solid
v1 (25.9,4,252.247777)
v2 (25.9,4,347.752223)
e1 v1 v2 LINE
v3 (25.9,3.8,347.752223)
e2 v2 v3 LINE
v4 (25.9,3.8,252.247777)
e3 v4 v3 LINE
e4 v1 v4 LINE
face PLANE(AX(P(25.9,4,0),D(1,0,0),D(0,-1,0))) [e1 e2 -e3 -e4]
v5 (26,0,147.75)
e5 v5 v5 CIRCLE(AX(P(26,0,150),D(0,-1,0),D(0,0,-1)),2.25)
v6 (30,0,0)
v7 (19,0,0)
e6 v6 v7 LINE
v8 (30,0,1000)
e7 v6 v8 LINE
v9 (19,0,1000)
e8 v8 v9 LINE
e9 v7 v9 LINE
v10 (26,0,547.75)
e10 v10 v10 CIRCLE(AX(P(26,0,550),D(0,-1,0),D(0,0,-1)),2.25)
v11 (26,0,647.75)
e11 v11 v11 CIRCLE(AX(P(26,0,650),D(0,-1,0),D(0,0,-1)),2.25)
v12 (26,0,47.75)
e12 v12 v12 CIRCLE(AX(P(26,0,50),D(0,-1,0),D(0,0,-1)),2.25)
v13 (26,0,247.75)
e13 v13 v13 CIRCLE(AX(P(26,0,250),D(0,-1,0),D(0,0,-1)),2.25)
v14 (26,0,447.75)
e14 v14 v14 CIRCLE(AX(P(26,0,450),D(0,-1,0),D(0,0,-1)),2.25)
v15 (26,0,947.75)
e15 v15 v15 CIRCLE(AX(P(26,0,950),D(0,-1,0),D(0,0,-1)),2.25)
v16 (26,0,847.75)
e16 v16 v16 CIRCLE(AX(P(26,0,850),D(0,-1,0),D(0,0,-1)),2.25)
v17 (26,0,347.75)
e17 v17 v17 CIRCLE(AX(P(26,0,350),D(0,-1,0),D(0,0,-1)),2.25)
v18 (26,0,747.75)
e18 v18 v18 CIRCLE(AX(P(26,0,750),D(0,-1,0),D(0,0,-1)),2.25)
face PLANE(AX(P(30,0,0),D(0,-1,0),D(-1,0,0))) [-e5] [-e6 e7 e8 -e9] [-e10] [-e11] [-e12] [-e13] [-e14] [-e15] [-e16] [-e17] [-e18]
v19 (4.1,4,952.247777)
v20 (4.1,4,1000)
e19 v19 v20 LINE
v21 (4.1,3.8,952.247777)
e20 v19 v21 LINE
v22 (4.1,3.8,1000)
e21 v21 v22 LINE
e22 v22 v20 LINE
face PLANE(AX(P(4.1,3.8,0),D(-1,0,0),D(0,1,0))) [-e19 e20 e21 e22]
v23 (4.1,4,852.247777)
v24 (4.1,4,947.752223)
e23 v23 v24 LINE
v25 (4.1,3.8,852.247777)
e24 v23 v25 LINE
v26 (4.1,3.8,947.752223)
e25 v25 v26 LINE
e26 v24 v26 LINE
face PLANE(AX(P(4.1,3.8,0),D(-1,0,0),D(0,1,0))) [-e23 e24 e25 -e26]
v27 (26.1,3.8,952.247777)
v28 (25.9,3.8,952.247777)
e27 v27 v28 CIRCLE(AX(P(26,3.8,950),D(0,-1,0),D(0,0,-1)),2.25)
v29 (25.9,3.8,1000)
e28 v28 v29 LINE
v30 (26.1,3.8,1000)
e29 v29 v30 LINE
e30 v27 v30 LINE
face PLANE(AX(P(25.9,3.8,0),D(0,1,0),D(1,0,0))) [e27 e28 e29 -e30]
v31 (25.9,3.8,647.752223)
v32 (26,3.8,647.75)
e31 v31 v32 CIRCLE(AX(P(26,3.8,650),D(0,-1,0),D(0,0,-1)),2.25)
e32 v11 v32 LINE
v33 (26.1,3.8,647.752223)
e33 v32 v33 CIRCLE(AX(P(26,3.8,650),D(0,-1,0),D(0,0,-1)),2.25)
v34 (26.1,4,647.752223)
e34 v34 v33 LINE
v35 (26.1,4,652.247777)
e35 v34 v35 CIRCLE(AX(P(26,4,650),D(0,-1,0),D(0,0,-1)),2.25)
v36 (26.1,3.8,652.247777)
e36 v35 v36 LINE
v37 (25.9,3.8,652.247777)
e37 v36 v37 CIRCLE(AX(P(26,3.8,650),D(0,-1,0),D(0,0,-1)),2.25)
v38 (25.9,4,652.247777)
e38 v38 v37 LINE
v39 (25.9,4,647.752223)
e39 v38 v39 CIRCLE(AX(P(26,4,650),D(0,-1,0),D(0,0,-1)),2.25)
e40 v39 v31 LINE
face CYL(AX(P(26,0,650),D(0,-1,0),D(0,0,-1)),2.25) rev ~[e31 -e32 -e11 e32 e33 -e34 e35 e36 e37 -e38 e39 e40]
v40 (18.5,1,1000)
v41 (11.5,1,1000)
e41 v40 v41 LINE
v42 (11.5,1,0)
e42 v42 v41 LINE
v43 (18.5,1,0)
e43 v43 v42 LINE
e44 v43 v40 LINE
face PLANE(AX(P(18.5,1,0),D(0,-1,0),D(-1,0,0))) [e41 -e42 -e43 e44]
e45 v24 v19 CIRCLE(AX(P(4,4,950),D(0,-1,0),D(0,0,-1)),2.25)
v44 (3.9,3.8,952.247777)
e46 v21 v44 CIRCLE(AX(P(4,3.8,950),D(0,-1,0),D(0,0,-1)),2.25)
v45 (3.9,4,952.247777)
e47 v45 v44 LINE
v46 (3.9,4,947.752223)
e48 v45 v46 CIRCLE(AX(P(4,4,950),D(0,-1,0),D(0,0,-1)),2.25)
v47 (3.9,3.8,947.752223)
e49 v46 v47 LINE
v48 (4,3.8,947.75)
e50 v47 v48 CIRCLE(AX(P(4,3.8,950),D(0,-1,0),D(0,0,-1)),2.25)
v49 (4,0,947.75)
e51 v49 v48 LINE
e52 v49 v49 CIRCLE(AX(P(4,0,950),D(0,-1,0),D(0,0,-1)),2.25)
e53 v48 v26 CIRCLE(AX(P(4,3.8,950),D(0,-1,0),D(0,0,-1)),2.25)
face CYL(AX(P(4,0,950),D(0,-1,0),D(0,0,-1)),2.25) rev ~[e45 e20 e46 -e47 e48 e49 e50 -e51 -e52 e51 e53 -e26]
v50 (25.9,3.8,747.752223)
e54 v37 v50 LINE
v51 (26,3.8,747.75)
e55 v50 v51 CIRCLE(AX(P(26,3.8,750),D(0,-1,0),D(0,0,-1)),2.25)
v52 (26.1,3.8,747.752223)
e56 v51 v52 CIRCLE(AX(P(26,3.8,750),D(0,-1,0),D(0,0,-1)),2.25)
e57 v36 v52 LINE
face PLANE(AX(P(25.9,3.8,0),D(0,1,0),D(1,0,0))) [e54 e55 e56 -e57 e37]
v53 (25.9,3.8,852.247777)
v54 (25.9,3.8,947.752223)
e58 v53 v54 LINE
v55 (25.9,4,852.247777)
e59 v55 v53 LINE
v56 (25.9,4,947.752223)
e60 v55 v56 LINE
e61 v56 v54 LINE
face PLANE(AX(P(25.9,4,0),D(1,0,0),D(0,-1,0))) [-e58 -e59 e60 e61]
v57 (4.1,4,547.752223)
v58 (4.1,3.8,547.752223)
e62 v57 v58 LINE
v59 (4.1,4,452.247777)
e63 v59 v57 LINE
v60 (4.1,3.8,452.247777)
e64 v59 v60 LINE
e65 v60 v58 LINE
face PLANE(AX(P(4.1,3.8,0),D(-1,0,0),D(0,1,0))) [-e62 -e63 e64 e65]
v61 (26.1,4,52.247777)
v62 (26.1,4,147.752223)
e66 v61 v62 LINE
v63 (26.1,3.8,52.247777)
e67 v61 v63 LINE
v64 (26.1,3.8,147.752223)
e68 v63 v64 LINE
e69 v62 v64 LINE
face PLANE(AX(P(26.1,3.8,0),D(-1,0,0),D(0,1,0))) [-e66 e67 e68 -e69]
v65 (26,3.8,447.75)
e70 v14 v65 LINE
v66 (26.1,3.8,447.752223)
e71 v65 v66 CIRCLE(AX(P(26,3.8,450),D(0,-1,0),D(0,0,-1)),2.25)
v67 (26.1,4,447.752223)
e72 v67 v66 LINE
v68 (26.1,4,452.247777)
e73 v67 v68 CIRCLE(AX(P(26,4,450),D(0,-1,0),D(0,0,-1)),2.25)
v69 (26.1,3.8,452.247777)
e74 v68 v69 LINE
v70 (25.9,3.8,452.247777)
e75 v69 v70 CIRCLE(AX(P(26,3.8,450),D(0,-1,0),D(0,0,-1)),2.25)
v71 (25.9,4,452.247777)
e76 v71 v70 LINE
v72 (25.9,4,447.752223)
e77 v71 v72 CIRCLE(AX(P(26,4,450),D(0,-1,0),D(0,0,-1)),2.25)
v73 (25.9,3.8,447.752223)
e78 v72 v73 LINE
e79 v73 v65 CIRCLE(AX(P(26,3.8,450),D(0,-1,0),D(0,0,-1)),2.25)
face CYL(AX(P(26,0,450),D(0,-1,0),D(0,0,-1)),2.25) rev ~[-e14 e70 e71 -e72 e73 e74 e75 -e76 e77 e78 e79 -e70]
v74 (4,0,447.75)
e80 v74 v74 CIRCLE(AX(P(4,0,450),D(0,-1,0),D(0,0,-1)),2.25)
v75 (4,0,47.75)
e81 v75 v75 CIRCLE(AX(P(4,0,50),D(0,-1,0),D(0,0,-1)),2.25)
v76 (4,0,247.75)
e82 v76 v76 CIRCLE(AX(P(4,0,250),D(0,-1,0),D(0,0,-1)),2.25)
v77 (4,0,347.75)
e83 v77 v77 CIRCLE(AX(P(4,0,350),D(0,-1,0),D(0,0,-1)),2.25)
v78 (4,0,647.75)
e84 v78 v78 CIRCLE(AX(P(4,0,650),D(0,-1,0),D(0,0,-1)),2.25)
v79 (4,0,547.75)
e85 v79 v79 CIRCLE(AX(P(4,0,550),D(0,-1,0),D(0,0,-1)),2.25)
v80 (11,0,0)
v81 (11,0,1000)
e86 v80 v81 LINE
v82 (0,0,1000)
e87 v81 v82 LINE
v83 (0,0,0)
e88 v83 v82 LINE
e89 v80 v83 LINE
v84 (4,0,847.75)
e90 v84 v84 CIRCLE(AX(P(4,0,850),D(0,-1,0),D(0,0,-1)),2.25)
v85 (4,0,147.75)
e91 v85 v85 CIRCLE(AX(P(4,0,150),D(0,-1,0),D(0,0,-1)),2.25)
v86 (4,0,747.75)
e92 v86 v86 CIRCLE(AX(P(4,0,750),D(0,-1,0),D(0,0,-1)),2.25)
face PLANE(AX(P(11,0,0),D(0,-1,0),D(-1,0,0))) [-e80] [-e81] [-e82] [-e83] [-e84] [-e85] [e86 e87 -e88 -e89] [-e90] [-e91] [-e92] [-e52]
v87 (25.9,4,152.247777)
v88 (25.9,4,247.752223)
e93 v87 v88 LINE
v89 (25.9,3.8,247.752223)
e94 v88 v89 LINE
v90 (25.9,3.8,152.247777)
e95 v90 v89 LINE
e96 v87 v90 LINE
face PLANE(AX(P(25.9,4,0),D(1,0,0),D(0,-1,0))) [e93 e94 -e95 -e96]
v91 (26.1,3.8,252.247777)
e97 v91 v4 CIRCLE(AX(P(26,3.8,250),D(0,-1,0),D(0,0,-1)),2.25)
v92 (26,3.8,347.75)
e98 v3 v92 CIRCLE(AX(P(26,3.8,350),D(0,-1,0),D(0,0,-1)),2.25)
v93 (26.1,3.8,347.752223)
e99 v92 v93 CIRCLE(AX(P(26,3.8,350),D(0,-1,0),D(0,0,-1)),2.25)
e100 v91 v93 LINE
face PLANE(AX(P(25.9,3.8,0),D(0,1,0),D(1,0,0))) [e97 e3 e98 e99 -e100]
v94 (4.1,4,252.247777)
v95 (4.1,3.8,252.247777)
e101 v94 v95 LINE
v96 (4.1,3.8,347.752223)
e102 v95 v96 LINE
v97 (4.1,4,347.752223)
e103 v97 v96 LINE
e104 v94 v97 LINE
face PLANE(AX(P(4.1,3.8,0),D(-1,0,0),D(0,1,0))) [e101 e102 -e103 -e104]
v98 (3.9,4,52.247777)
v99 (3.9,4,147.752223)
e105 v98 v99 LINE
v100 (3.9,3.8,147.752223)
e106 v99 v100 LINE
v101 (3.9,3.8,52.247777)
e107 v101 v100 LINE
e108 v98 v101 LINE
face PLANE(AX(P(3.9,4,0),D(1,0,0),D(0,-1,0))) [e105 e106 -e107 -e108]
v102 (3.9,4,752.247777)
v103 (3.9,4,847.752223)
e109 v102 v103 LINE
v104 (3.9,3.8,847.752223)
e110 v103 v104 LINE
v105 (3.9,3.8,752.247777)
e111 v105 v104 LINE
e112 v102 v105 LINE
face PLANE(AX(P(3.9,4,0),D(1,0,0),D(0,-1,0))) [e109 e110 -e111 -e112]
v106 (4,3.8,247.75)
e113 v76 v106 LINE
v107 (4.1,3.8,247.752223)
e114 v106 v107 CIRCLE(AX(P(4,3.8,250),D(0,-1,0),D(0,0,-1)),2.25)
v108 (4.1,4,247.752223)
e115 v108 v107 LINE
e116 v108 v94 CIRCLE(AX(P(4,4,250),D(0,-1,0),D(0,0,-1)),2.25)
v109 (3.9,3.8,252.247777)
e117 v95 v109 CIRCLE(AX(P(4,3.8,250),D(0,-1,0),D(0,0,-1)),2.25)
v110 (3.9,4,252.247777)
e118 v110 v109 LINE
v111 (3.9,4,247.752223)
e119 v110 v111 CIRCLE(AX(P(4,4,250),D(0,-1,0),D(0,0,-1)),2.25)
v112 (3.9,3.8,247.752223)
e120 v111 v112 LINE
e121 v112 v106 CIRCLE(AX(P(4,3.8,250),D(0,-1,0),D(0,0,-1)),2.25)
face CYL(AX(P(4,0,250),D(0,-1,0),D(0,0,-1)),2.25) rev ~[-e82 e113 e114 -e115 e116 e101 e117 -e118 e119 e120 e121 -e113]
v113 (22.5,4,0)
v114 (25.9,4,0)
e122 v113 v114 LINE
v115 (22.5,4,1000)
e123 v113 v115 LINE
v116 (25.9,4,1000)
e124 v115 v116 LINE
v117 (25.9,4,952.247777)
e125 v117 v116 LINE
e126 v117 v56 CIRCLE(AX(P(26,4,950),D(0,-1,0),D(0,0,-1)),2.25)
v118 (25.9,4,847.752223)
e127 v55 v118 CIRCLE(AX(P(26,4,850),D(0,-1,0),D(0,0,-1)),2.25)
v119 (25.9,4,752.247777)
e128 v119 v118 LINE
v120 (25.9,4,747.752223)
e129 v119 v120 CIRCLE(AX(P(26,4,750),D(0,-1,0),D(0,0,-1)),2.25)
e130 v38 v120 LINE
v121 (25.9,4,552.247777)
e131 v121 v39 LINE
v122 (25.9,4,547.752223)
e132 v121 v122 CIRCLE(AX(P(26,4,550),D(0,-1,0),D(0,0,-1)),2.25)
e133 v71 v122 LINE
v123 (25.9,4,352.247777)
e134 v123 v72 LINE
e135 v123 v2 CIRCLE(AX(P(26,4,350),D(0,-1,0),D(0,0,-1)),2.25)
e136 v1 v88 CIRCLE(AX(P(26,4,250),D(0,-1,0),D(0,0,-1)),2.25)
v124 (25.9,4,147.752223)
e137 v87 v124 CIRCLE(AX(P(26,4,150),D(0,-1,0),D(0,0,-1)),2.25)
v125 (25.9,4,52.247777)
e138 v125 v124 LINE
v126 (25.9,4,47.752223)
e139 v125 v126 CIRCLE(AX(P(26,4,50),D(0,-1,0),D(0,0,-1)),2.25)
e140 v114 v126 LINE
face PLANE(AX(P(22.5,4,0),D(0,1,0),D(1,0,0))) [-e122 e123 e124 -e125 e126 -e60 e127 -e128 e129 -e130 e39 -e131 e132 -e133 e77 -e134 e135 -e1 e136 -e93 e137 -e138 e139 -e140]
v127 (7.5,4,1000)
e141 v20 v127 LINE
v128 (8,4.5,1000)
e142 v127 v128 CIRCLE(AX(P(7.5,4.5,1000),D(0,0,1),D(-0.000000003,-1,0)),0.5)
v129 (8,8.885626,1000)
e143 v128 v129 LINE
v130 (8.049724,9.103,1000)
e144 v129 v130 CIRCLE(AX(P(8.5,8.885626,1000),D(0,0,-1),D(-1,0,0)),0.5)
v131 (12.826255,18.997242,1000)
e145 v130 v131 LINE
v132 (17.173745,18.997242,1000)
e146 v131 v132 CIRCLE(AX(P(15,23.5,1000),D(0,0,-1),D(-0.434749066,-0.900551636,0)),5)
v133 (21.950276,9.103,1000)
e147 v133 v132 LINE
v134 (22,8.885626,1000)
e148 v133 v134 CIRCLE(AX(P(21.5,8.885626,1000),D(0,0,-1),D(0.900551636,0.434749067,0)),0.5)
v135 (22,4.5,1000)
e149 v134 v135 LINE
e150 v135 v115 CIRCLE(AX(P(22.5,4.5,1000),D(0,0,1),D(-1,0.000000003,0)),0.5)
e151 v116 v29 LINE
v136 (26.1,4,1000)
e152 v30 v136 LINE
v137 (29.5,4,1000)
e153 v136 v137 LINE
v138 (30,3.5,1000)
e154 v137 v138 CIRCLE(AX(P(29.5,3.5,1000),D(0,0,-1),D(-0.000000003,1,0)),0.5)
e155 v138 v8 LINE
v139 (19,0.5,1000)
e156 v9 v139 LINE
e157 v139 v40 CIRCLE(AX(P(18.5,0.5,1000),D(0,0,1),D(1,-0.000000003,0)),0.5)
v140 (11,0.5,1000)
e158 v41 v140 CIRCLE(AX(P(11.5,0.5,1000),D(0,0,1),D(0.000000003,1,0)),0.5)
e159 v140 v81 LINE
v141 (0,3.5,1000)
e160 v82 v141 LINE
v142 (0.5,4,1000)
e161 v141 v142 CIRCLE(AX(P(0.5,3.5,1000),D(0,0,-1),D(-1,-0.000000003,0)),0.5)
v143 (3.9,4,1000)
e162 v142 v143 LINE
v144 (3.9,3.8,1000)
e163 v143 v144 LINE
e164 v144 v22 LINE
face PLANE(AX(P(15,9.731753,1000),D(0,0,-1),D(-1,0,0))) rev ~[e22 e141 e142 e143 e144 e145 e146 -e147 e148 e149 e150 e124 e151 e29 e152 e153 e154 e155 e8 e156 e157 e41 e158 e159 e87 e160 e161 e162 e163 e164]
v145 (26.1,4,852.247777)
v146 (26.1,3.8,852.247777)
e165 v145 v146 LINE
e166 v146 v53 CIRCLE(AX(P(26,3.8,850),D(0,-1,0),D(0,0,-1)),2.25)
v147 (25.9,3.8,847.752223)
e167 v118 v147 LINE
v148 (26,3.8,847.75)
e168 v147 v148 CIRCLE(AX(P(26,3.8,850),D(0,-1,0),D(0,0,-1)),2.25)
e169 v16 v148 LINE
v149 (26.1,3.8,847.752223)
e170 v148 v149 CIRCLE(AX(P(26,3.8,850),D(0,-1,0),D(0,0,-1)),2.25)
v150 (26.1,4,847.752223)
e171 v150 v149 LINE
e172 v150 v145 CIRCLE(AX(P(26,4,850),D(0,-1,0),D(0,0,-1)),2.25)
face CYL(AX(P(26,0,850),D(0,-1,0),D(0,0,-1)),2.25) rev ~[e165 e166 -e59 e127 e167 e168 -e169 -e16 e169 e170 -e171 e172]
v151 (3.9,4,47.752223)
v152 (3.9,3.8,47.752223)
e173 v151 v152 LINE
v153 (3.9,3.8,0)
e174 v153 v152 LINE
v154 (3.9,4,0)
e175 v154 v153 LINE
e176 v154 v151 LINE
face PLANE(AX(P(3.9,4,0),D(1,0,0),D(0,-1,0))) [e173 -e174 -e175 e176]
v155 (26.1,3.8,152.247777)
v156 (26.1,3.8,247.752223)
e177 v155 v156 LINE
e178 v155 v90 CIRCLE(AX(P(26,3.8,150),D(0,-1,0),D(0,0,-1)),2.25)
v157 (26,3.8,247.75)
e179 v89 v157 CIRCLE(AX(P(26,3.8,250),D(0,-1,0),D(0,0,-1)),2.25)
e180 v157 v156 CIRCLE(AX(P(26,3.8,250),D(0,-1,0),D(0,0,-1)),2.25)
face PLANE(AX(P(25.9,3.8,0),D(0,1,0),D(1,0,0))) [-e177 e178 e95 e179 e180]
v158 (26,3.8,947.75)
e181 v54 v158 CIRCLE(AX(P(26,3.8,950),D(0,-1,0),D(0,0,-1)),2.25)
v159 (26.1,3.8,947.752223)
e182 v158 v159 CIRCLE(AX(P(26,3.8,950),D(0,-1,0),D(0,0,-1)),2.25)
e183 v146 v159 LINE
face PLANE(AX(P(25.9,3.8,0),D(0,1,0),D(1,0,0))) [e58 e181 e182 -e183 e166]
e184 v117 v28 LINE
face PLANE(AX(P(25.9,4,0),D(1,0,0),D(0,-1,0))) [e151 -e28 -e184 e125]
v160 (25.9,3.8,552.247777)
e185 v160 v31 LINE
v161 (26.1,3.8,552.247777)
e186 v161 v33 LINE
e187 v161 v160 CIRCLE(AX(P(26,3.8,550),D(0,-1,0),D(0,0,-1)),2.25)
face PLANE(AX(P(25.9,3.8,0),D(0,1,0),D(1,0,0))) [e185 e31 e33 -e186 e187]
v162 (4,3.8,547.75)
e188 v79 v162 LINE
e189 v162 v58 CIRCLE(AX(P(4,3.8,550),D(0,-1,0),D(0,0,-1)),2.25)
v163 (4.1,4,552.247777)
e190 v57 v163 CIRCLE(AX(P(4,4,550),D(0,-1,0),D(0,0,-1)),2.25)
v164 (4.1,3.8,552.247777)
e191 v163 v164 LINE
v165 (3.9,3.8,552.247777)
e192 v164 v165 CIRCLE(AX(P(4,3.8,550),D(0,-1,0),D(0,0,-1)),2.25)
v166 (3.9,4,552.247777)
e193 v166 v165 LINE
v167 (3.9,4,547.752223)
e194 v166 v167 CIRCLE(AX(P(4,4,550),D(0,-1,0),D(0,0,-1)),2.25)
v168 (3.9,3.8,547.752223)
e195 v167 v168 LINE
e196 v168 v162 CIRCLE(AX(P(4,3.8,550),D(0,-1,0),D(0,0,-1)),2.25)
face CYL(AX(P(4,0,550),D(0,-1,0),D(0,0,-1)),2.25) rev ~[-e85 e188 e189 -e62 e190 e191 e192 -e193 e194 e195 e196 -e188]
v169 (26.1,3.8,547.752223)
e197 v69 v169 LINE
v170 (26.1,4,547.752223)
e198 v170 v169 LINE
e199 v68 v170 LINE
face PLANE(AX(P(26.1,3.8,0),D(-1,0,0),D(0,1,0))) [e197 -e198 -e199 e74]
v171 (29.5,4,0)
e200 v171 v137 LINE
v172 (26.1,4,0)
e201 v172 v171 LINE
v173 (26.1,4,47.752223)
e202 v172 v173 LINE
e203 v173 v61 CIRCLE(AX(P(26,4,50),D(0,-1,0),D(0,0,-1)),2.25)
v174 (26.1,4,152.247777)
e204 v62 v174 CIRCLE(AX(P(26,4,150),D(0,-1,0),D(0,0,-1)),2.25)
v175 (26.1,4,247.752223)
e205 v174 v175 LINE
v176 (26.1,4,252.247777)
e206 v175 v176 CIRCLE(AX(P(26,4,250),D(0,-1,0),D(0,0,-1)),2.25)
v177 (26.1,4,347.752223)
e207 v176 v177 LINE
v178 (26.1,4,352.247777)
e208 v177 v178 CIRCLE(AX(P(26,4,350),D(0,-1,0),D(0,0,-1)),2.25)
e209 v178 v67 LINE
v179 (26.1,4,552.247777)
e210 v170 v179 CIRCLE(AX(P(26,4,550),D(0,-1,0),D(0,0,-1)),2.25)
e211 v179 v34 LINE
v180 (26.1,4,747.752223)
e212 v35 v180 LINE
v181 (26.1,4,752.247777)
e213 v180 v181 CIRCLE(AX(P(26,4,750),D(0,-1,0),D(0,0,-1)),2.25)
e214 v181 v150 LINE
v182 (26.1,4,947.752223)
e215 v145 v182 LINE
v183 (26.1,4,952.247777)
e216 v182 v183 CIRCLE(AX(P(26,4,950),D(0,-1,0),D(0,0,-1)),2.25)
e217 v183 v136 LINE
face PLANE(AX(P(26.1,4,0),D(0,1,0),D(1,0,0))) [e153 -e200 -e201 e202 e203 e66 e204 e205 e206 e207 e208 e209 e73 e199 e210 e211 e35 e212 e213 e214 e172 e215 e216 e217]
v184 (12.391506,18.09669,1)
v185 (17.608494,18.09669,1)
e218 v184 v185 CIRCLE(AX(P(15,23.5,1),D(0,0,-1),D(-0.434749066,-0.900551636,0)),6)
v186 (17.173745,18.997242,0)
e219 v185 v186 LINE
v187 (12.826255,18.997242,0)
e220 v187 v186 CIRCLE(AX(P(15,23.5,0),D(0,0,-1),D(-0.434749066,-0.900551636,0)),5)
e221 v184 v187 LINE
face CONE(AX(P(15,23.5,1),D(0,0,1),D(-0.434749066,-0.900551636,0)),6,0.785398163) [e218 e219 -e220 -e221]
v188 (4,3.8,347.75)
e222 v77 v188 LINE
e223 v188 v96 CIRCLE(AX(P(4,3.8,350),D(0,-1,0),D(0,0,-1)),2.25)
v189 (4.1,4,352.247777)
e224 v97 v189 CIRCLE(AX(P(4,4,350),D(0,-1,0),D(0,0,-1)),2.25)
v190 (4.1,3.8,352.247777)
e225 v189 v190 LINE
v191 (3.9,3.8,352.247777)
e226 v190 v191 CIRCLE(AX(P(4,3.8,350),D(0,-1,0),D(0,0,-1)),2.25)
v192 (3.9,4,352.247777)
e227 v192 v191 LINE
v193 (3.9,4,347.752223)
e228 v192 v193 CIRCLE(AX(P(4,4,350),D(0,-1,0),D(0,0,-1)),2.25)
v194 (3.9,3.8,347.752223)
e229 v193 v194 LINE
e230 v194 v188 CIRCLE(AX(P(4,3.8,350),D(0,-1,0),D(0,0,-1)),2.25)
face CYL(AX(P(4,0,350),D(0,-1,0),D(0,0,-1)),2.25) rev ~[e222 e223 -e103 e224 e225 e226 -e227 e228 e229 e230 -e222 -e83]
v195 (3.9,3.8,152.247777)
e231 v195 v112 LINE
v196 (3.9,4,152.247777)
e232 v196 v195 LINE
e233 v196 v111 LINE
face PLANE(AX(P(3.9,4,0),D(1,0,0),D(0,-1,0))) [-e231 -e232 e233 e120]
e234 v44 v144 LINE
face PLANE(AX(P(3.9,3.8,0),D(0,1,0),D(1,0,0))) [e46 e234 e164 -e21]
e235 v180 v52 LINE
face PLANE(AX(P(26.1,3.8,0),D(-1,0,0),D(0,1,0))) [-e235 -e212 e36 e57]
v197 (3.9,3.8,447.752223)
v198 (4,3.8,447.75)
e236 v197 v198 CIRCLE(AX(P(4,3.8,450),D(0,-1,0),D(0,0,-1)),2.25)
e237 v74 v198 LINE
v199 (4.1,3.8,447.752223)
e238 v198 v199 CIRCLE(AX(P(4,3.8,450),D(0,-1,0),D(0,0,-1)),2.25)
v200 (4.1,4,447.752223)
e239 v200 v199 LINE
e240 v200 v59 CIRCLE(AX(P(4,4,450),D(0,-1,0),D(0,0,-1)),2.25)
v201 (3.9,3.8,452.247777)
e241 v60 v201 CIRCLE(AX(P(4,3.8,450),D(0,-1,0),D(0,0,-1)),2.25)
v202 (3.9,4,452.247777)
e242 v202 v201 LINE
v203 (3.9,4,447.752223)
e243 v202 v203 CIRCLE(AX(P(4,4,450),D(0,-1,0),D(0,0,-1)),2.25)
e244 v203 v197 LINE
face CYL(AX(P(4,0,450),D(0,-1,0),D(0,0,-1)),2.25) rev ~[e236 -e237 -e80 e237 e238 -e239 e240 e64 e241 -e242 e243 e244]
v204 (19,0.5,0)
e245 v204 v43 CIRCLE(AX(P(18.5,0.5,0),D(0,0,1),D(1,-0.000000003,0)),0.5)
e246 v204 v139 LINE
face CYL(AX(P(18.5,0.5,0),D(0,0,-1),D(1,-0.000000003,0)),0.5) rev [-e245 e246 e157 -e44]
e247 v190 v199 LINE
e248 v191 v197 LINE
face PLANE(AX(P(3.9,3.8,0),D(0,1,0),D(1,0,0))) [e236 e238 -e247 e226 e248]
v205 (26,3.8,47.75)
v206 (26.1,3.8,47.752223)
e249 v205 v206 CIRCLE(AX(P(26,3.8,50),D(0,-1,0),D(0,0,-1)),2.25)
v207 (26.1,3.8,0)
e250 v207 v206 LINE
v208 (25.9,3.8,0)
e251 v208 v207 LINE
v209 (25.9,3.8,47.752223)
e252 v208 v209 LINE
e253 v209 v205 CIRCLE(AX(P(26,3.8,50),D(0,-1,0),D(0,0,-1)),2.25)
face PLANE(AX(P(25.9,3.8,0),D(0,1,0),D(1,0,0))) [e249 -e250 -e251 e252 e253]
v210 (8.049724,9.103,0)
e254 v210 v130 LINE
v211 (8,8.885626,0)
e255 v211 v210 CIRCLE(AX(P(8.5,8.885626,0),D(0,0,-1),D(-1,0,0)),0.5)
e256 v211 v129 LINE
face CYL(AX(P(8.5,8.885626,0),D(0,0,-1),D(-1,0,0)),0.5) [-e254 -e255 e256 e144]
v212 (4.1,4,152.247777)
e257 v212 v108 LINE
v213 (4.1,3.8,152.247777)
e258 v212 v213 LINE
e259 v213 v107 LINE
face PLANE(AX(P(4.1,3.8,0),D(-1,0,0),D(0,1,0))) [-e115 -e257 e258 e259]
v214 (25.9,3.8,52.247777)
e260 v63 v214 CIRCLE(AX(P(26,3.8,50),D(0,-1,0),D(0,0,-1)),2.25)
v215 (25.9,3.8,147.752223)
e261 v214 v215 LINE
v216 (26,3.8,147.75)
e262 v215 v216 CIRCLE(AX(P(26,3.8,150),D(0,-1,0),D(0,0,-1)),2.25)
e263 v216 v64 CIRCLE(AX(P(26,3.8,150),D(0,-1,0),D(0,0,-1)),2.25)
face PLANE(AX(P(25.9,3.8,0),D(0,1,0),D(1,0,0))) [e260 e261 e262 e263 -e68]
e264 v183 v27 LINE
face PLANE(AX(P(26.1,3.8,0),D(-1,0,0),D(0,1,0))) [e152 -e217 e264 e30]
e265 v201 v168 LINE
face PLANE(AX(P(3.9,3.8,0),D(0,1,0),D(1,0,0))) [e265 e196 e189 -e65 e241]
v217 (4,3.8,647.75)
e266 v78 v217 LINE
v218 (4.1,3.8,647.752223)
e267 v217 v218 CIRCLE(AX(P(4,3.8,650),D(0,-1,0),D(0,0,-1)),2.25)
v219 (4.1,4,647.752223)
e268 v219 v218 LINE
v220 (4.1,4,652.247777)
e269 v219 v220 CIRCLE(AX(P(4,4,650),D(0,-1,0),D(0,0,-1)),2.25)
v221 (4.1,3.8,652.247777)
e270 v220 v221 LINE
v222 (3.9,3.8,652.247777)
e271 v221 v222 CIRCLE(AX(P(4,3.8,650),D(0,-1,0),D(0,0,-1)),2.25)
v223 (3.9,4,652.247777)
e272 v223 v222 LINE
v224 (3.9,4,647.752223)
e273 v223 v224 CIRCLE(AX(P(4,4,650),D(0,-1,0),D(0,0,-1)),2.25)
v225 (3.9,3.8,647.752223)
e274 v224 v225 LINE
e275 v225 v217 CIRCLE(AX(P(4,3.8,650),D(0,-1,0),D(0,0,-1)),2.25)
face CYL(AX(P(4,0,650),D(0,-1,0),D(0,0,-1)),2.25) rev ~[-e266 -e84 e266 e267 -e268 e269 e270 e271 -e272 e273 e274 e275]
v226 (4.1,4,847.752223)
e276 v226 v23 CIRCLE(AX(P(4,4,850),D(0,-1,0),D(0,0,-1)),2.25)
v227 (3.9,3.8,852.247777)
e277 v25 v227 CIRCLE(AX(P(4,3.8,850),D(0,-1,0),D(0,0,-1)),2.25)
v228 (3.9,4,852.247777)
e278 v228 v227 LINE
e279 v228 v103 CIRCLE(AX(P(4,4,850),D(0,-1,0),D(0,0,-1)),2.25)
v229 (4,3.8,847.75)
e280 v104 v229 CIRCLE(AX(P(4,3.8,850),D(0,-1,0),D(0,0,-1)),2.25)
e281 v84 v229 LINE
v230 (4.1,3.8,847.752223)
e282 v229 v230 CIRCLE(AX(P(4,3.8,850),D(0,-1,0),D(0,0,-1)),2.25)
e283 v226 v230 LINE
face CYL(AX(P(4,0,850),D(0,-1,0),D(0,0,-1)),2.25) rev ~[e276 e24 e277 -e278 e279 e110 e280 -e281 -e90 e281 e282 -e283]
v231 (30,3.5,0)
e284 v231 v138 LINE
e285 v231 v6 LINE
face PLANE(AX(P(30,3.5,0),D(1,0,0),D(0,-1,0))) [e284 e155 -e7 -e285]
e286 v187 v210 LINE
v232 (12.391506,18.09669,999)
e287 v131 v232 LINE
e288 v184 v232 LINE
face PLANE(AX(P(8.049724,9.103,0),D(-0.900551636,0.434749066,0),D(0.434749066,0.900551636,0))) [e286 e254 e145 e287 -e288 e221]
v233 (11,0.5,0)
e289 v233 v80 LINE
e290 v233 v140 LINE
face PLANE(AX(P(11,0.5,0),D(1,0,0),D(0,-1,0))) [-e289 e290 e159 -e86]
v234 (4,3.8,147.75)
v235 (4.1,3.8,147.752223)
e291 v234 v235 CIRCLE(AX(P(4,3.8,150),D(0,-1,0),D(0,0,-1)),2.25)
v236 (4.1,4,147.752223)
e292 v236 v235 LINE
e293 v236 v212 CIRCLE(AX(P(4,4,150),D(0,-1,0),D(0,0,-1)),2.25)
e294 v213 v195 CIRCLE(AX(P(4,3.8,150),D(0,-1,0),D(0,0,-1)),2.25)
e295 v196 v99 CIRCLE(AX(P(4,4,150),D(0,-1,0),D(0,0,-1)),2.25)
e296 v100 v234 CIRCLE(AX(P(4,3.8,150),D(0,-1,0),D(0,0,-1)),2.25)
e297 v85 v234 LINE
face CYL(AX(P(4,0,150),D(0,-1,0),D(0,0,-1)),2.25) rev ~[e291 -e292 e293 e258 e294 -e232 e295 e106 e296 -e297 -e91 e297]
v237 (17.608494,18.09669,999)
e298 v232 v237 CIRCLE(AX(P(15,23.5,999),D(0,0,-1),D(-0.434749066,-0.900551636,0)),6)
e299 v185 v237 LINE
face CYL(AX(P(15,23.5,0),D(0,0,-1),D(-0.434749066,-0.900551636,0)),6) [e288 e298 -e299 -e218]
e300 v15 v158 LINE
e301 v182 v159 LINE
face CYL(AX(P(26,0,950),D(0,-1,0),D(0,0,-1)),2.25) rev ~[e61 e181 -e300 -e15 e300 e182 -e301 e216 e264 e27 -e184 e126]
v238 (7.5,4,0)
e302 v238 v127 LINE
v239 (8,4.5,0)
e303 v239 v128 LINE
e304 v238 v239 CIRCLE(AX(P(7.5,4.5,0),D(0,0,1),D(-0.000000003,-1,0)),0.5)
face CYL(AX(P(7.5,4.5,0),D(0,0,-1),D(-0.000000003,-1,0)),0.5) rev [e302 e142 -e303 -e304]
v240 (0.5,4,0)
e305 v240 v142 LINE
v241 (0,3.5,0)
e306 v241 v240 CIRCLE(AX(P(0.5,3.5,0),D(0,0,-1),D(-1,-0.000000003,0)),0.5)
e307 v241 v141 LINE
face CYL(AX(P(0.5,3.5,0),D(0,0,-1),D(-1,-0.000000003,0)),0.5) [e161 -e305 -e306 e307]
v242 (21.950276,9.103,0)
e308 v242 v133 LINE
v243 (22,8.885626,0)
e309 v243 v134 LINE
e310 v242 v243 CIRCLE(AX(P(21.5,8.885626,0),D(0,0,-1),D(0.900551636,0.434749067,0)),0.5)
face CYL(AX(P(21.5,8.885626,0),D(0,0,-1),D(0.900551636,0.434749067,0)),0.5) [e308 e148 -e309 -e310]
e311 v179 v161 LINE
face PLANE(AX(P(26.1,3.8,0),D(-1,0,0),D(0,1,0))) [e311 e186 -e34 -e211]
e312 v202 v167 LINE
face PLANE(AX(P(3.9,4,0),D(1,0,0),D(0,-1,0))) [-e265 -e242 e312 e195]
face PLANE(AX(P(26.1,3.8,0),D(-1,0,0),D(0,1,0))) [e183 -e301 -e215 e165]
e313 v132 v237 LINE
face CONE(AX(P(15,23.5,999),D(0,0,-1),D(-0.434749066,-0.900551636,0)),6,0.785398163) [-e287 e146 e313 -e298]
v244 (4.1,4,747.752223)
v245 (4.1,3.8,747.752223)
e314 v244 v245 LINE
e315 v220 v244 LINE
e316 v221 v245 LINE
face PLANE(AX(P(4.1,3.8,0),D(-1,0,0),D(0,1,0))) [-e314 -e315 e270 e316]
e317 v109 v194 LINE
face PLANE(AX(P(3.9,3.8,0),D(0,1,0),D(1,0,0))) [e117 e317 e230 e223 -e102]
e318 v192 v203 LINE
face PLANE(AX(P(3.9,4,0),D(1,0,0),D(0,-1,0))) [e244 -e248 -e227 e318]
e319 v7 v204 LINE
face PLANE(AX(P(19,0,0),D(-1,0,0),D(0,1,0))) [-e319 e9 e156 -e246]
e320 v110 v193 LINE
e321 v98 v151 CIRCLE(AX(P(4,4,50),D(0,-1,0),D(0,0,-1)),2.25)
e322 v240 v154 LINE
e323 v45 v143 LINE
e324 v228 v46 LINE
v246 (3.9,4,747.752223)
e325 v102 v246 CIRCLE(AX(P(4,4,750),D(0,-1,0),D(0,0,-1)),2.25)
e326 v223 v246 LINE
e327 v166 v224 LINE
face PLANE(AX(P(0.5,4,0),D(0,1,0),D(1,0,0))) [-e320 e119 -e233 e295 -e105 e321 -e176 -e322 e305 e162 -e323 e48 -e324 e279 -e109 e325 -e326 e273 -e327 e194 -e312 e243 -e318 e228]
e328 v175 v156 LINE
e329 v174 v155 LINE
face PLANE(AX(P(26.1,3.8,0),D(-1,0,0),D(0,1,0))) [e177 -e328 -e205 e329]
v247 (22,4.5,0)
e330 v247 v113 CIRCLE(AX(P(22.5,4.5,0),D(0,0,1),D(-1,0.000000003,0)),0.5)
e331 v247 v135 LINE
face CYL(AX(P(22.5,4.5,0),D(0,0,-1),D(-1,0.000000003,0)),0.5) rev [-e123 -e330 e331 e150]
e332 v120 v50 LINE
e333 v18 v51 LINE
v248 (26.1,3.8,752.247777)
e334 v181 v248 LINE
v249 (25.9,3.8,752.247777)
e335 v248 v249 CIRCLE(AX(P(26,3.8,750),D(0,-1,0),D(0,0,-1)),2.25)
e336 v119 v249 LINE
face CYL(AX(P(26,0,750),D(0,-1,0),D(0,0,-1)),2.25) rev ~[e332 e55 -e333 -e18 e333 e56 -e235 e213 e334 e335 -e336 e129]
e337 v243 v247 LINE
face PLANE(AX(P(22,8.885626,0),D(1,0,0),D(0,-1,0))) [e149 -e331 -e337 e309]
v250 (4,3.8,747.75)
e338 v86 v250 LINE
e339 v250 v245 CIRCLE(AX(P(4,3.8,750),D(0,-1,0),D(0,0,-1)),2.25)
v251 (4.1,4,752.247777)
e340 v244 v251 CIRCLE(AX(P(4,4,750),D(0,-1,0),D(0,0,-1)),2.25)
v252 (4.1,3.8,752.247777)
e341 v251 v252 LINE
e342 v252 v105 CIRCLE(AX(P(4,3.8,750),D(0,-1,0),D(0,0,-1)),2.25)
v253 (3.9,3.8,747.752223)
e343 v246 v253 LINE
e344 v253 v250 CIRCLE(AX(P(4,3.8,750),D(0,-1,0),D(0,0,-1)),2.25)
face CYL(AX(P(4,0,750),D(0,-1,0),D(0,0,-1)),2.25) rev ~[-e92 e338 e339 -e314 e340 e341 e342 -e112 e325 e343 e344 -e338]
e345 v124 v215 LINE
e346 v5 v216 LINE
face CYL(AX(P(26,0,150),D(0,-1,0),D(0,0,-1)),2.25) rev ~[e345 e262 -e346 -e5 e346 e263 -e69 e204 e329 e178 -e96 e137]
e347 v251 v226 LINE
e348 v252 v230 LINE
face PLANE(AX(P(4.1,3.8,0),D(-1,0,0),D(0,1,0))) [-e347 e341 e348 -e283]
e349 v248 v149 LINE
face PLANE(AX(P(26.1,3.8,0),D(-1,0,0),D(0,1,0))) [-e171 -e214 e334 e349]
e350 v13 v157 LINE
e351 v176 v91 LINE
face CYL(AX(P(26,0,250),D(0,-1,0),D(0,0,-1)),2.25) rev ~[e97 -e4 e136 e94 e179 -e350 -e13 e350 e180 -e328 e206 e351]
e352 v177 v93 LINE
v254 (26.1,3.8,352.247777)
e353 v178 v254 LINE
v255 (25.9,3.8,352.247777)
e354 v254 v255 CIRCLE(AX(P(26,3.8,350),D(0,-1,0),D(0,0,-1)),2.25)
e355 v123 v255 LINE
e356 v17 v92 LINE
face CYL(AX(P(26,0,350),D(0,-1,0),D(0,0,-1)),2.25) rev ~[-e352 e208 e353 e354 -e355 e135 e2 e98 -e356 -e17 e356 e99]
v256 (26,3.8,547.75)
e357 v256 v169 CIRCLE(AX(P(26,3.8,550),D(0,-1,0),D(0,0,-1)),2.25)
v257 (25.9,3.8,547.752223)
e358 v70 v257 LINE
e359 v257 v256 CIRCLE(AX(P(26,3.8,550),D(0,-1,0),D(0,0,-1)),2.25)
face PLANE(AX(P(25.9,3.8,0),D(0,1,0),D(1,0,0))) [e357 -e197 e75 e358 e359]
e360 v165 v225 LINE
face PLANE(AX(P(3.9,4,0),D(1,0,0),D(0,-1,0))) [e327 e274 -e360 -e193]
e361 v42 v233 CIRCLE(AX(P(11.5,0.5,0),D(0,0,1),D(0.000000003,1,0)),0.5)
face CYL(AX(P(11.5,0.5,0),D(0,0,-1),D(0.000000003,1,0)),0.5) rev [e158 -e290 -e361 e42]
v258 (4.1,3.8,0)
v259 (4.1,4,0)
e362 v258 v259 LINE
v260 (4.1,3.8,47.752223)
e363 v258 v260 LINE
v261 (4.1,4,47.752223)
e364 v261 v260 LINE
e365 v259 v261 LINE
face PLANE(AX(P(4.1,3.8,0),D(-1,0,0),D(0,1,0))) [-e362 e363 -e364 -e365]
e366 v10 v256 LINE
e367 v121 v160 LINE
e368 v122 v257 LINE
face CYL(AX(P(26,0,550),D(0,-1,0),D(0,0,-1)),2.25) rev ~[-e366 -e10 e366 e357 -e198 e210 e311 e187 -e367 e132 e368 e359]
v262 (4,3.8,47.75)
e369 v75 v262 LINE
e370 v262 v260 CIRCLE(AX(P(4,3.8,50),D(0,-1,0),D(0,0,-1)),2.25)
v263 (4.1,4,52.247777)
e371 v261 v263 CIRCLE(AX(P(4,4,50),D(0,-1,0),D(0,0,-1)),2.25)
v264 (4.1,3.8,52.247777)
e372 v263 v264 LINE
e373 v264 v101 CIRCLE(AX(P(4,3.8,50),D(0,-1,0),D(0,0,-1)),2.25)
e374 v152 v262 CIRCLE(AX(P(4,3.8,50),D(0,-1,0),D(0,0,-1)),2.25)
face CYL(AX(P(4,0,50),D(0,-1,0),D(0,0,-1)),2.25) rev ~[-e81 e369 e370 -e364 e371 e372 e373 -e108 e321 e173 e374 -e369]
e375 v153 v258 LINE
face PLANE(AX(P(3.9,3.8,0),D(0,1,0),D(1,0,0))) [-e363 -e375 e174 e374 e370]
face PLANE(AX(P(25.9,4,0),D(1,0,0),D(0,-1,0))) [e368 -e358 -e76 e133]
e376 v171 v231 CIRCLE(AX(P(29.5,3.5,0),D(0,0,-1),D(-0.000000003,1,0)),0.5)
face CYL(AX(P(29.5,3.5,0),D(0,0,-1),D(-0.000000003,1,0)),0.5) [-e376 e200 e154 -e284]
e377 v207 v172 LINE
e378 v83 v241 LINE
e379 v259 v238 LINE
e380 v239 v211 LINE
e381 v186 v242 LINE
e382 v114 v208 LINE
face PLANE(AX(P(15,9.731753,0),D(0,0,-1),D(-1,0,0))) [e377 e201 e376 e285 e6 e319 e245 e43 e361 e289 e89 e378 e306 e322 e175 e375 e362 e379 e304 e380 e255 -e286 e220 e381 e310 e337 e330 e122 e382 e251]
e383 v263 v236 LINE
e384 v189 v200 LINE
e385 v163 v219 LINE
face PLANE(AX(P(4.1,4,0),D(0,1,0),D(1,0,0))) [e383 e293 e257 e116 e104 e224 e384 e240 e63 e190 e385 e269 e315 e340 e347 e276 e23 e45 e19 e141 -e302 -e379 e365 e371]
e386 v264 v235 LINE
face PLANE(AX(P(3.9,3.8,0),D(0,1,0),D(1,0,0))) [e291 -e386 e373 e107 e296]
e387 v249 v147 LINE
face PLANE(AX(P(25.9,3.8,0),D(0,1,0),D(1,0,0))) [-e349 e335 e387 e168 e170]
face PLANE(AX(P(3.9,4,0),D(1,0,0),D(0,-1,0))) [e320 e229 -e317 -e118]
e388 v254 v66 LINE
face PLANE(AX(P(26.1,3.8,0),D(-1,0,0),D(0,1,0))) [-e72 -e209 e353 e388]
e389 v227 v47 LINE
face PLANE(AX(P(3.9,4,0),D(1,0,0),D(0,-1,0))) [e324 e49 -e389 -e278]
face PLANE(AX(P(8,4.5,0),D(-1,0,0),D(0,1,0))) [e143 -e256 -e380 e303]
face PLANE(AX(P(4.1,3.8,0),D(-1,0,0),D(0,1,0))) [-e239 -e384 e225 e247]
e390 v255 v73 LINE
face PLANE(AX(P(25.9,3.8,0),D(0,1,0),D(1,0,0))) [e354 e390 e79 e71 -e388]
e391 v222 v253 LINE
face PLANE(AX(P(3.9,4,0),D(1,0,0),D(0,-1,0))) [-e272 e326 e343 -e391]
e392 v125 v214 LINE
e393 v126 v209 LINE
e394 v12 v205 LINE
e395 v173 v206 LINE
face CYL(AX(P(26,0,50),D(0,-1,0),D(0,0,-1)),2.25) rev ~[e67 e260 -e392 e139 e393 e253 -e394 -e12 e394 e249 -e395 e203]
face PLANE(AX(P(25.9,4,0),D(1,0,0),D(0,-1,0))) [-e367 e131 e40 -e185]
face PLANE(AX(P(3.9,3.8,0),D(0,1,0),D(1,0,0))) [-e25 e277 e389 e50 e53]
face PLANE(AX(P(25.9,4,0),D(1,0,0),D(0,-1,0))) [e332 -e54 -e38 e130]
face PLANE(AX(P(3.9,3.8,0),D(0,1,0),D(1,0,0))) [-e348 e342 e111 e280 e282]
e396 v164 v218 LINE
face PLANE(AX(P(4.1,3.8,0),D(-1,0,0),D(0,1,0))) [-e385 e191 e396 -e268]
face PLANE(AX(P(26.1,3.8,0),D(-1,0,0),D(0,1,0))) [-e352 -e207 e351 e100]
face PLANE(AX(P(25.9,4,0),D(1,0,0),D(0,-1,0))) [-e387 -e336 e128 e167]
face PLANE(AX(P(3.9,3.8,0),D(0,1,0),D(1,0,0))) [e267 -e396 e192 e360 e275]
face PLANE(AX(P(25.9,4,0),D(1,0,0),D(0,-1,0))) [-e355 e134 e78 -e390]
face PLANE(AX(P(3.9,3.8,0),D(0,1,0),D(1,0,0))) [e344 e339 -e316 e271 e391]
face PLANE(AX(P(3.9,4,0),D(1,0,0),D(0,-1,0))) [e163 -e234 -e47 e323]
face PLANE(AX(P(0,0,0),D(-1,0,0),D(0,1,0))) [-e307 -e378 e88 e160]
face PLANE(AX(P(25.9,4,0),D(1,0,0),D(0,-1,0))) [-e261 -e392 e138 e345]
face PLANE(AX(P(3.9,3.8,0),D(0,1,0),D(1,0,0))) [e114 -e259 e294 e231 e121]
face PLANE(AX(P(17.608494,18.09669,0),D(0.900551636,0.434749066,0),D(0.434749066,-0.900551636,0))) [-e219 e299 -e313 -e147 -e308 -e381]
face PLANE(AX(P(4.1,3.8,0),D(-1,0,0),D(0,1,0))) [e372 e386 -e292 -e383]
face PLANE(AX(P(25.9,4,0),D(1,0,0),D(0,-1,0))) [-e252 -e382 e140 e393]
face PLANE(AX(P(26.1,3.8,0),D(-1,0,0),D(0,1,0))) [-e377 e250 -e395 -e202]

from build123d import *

# Parameters (mm, degrees)
BOSS_EXTRU_1_DEPTH         = 1000
CHANFREIN5_SIZE            = 1
CHANFREIN6_SIZE            = 1
ENL_V_MAT_EXTRU_1_REACH    = 1002.885
ESQUISSE2_R                = 2.25
R_P_TITION_LIN_AIRE1_COUNT = 9
R_P_TITION_LIN_AIRE1_PITCH = 100


with BuildPart() as part:
    # Esquisse1 → Boss.-Extru.1 (new body)
    with BuildSketch(Plane.XY):
        with BuildLine():
            Line((0, 0), (0, 3.5))
            ThreePointArc((0, 3.5), (0.146446609, 3.853553391), (0.5, 4))
            Line((0.5, 4), (3.9, 4))
            Line((3.9, 4), (3.9, 3.8))
            Line((3.9, 3.8), (4.1, 3.8))
            Line((4.1, 3.8), (4.1, 4))
            Line((4.1, 4), (7.5, 4))
            ThreePointArc((7.5, 4), (7.853553391, 4.146446609), (8, 4.5))
            Line((8, 4.5), (8, 8.885625558))
            ThreePointArc((8, 8.885625558), (8.012589542, 8.997120156), (8.049724182, 9.103000091))
            Line((8.049724182, 9.103000091), (12.391505605, 18.096690182))
            ThreePointArc((12.391505605, 18.096690182), (15, 29.5), (17.608494395, 18.096690182))
            Line((17.608494395, 18.096690182), (21.950275818, 9.103000091))
            ThreePointArc((21.950275818, 9.103000091), (21.987410458, 8.997120156), (22, 8.885625558))
            Line((22, 8.885625558), (22, 4.5))
            ThreePointArc((22, 4.5), (22.146446609, 4.146446609), (22.5, 4))
            Line((22.5, 4), (25.9, 4))
            Line((25.9, 4), (25.9, 3.8))
            Line((25.9, 3.8), (26.1, 3.8))
            Line((26.1, 3.8), (26.1, 4))
            Line((26.1, 4), (29.5, 4))
            ThreePointArc((29.5, 4), (29.853553391, 3.853553391), (30, 3.5))
            Line((30, 3.5), (30, 0))
            Line((30, 0), (19, 0))
            Line((19, 0), (19, 0.5))
            ThreePointArc((19, 0.5), (18.853553391, 0.853553391), (18.5, 1))
            Line((18.5, 1), (11.5, 1))
            ThreePointArc((11.5, 1), (11.146446609, 0.853553391), (11, 0.5))
            Line((11, 0.5), (11, 0))
            Line((11, 0), (0, 0))
        make_face()
    extrude(amount=BOSS_EXTRU_1_DEPTH)

    # Chanfrein5
    chanfrein5_edges = [part.edges().sort_by_distance(p)[0] for p in [
        (15, 29.5, 0),
    ]]
    chamfer(chanfrein5_edges, length=CHANFREIN5_SIZE)

    # Chanfrein6
    chanfrein6_edges = [part.edges().sort_by_distance(p)[0] for p in [
        (15, 29.5, 1000),
    ]]
    chamfer(chanfrein6_edges, length=CHANFREIN6_SIZE)

    # Esquisse2 → Enlèv. mat.-Extru.1 (cut, up to next)
    with BuildSketch(Plane.XZ, mode=Mode.PRIVATE) as enl_v_mat_extru_1_sk1:
        with Locations(Location((4, 850, 0), (0, 0, 270))):
            Circle(ESQUISSE2_R)
    enl_v_mat_extru_1_tool1 = extrude(enl_v_mat_extru_1_sk1.sketch, amount=-ENL_V_MAT_EXTRU_1_REACH, mode=Mode.PRIVATE) & part.part
    # Esquisse2 → Enlèv. mat.-Extru.1 (cut, up to next)
    with BuildSketch(Plane.XZ, mode=Mode.PRIVATE) as enl_v_mat_extru_1_sk2:
        with Locations(Location((26, 850, 0), (0, 0, 270))):
            Circle(ESQUISSE2_R)
    enl_v_mat_extru_1_tool2 = extrude(enl_v_mat_extru_1_sk2.sketch, amount=-ENL_V_MAT_EXTRU_1_REACH, mode=Mode.PRIVATE) & part.part
    # Esquisse2 → Enlèv. mat.-Extru.1 (cut, up to next)
    with BuildSketch(Plane.XZ, mode=Mode.PRIVATE) as enl_v_mat_extru_1_sk3:
        with Locations(Location((26, 950, 0), (0, 0, 270))):
            Circle(ESQUISSE2_R)
    enl_v_mat_extru_1_tool3 = extrude(enl_v_mat_extru_1_sk3.sketch, amount=-ENL_V_MAT_EXTRU_1_REACH, mode=Mode.PRIVATE) & part.part
    # Esquisse2 → Enlèv. mat.-Extru.1 (cut, up to next)
    with BuildSketch(Plane.XZ, mode=Mode.PRIVATE) as enl_v_mat_extru_1_sk4:
        with Locations(Location((4, 950, 0), (0, 0, 270))):
            Circle(ESQUISSE2_R)
    enl_v_mat_extru_1_tool4 = extrude(enl_v_mat_extru_1_sk4.sketch, amount=-ENL_V_MAT_EXTRU_1_REACH, mode=Mode.PRIVATE) & part.part
    enl_v_mat_extru_1_1 = enl_v_mat_extru_1_tool1.solids().sort_by_distance((4, 0, 850))[0]
    add(enl_v_mat_extru_1_1, mode=Mode.SUBTRACT)
    enl_v_mat_extru_1_2 = enl_v_mat_extru_1_tool2.solids().sort_by_distance((26, 0, 850))[0]
    add(enl_v_mat_extru_1_2, mode=Mode.SUBTRACT)
    enl_v_mat_extru_1_3 = enl_v_mat_extru_1_tool3.solids().sort_by_distance((26, 0, 950))[0]
    add(enl_v_mat_extru_1_3, mode=Mode.SUBTRACT)
    enl_v_mat_extru_1_4 = enl_v_mat_extru_1_tool4.solids().sort_by_distance((4, 0, 950))[0]
    add(enl_v_mat_extru_1_4, mode=Mode.SUBTRACT)
    enl_v_mat_extru_1 = enl_v_mat_extru_1_1 + enl_v_mat_extru_1_2 + enl_v_mat_extru_1_3 + enl_v_mat_extru_1_4  # Enlèv. mat.-Extru.1 as one shape, for the pattern or mirror that repeats it

    # Répétition linéaire1: Enlèv. mat.-Extru.1 ×9
    with Locations(*[(0, 0, -i * R_P_TITION_LIN_AIRE1_PITCH) for i in range(1, R_P_TITION_LIN_AIRE1_COUNT)]):
        add(enl_v_mat_extru_1, mode=Mode.SUBTRACT)


solid = part.part
